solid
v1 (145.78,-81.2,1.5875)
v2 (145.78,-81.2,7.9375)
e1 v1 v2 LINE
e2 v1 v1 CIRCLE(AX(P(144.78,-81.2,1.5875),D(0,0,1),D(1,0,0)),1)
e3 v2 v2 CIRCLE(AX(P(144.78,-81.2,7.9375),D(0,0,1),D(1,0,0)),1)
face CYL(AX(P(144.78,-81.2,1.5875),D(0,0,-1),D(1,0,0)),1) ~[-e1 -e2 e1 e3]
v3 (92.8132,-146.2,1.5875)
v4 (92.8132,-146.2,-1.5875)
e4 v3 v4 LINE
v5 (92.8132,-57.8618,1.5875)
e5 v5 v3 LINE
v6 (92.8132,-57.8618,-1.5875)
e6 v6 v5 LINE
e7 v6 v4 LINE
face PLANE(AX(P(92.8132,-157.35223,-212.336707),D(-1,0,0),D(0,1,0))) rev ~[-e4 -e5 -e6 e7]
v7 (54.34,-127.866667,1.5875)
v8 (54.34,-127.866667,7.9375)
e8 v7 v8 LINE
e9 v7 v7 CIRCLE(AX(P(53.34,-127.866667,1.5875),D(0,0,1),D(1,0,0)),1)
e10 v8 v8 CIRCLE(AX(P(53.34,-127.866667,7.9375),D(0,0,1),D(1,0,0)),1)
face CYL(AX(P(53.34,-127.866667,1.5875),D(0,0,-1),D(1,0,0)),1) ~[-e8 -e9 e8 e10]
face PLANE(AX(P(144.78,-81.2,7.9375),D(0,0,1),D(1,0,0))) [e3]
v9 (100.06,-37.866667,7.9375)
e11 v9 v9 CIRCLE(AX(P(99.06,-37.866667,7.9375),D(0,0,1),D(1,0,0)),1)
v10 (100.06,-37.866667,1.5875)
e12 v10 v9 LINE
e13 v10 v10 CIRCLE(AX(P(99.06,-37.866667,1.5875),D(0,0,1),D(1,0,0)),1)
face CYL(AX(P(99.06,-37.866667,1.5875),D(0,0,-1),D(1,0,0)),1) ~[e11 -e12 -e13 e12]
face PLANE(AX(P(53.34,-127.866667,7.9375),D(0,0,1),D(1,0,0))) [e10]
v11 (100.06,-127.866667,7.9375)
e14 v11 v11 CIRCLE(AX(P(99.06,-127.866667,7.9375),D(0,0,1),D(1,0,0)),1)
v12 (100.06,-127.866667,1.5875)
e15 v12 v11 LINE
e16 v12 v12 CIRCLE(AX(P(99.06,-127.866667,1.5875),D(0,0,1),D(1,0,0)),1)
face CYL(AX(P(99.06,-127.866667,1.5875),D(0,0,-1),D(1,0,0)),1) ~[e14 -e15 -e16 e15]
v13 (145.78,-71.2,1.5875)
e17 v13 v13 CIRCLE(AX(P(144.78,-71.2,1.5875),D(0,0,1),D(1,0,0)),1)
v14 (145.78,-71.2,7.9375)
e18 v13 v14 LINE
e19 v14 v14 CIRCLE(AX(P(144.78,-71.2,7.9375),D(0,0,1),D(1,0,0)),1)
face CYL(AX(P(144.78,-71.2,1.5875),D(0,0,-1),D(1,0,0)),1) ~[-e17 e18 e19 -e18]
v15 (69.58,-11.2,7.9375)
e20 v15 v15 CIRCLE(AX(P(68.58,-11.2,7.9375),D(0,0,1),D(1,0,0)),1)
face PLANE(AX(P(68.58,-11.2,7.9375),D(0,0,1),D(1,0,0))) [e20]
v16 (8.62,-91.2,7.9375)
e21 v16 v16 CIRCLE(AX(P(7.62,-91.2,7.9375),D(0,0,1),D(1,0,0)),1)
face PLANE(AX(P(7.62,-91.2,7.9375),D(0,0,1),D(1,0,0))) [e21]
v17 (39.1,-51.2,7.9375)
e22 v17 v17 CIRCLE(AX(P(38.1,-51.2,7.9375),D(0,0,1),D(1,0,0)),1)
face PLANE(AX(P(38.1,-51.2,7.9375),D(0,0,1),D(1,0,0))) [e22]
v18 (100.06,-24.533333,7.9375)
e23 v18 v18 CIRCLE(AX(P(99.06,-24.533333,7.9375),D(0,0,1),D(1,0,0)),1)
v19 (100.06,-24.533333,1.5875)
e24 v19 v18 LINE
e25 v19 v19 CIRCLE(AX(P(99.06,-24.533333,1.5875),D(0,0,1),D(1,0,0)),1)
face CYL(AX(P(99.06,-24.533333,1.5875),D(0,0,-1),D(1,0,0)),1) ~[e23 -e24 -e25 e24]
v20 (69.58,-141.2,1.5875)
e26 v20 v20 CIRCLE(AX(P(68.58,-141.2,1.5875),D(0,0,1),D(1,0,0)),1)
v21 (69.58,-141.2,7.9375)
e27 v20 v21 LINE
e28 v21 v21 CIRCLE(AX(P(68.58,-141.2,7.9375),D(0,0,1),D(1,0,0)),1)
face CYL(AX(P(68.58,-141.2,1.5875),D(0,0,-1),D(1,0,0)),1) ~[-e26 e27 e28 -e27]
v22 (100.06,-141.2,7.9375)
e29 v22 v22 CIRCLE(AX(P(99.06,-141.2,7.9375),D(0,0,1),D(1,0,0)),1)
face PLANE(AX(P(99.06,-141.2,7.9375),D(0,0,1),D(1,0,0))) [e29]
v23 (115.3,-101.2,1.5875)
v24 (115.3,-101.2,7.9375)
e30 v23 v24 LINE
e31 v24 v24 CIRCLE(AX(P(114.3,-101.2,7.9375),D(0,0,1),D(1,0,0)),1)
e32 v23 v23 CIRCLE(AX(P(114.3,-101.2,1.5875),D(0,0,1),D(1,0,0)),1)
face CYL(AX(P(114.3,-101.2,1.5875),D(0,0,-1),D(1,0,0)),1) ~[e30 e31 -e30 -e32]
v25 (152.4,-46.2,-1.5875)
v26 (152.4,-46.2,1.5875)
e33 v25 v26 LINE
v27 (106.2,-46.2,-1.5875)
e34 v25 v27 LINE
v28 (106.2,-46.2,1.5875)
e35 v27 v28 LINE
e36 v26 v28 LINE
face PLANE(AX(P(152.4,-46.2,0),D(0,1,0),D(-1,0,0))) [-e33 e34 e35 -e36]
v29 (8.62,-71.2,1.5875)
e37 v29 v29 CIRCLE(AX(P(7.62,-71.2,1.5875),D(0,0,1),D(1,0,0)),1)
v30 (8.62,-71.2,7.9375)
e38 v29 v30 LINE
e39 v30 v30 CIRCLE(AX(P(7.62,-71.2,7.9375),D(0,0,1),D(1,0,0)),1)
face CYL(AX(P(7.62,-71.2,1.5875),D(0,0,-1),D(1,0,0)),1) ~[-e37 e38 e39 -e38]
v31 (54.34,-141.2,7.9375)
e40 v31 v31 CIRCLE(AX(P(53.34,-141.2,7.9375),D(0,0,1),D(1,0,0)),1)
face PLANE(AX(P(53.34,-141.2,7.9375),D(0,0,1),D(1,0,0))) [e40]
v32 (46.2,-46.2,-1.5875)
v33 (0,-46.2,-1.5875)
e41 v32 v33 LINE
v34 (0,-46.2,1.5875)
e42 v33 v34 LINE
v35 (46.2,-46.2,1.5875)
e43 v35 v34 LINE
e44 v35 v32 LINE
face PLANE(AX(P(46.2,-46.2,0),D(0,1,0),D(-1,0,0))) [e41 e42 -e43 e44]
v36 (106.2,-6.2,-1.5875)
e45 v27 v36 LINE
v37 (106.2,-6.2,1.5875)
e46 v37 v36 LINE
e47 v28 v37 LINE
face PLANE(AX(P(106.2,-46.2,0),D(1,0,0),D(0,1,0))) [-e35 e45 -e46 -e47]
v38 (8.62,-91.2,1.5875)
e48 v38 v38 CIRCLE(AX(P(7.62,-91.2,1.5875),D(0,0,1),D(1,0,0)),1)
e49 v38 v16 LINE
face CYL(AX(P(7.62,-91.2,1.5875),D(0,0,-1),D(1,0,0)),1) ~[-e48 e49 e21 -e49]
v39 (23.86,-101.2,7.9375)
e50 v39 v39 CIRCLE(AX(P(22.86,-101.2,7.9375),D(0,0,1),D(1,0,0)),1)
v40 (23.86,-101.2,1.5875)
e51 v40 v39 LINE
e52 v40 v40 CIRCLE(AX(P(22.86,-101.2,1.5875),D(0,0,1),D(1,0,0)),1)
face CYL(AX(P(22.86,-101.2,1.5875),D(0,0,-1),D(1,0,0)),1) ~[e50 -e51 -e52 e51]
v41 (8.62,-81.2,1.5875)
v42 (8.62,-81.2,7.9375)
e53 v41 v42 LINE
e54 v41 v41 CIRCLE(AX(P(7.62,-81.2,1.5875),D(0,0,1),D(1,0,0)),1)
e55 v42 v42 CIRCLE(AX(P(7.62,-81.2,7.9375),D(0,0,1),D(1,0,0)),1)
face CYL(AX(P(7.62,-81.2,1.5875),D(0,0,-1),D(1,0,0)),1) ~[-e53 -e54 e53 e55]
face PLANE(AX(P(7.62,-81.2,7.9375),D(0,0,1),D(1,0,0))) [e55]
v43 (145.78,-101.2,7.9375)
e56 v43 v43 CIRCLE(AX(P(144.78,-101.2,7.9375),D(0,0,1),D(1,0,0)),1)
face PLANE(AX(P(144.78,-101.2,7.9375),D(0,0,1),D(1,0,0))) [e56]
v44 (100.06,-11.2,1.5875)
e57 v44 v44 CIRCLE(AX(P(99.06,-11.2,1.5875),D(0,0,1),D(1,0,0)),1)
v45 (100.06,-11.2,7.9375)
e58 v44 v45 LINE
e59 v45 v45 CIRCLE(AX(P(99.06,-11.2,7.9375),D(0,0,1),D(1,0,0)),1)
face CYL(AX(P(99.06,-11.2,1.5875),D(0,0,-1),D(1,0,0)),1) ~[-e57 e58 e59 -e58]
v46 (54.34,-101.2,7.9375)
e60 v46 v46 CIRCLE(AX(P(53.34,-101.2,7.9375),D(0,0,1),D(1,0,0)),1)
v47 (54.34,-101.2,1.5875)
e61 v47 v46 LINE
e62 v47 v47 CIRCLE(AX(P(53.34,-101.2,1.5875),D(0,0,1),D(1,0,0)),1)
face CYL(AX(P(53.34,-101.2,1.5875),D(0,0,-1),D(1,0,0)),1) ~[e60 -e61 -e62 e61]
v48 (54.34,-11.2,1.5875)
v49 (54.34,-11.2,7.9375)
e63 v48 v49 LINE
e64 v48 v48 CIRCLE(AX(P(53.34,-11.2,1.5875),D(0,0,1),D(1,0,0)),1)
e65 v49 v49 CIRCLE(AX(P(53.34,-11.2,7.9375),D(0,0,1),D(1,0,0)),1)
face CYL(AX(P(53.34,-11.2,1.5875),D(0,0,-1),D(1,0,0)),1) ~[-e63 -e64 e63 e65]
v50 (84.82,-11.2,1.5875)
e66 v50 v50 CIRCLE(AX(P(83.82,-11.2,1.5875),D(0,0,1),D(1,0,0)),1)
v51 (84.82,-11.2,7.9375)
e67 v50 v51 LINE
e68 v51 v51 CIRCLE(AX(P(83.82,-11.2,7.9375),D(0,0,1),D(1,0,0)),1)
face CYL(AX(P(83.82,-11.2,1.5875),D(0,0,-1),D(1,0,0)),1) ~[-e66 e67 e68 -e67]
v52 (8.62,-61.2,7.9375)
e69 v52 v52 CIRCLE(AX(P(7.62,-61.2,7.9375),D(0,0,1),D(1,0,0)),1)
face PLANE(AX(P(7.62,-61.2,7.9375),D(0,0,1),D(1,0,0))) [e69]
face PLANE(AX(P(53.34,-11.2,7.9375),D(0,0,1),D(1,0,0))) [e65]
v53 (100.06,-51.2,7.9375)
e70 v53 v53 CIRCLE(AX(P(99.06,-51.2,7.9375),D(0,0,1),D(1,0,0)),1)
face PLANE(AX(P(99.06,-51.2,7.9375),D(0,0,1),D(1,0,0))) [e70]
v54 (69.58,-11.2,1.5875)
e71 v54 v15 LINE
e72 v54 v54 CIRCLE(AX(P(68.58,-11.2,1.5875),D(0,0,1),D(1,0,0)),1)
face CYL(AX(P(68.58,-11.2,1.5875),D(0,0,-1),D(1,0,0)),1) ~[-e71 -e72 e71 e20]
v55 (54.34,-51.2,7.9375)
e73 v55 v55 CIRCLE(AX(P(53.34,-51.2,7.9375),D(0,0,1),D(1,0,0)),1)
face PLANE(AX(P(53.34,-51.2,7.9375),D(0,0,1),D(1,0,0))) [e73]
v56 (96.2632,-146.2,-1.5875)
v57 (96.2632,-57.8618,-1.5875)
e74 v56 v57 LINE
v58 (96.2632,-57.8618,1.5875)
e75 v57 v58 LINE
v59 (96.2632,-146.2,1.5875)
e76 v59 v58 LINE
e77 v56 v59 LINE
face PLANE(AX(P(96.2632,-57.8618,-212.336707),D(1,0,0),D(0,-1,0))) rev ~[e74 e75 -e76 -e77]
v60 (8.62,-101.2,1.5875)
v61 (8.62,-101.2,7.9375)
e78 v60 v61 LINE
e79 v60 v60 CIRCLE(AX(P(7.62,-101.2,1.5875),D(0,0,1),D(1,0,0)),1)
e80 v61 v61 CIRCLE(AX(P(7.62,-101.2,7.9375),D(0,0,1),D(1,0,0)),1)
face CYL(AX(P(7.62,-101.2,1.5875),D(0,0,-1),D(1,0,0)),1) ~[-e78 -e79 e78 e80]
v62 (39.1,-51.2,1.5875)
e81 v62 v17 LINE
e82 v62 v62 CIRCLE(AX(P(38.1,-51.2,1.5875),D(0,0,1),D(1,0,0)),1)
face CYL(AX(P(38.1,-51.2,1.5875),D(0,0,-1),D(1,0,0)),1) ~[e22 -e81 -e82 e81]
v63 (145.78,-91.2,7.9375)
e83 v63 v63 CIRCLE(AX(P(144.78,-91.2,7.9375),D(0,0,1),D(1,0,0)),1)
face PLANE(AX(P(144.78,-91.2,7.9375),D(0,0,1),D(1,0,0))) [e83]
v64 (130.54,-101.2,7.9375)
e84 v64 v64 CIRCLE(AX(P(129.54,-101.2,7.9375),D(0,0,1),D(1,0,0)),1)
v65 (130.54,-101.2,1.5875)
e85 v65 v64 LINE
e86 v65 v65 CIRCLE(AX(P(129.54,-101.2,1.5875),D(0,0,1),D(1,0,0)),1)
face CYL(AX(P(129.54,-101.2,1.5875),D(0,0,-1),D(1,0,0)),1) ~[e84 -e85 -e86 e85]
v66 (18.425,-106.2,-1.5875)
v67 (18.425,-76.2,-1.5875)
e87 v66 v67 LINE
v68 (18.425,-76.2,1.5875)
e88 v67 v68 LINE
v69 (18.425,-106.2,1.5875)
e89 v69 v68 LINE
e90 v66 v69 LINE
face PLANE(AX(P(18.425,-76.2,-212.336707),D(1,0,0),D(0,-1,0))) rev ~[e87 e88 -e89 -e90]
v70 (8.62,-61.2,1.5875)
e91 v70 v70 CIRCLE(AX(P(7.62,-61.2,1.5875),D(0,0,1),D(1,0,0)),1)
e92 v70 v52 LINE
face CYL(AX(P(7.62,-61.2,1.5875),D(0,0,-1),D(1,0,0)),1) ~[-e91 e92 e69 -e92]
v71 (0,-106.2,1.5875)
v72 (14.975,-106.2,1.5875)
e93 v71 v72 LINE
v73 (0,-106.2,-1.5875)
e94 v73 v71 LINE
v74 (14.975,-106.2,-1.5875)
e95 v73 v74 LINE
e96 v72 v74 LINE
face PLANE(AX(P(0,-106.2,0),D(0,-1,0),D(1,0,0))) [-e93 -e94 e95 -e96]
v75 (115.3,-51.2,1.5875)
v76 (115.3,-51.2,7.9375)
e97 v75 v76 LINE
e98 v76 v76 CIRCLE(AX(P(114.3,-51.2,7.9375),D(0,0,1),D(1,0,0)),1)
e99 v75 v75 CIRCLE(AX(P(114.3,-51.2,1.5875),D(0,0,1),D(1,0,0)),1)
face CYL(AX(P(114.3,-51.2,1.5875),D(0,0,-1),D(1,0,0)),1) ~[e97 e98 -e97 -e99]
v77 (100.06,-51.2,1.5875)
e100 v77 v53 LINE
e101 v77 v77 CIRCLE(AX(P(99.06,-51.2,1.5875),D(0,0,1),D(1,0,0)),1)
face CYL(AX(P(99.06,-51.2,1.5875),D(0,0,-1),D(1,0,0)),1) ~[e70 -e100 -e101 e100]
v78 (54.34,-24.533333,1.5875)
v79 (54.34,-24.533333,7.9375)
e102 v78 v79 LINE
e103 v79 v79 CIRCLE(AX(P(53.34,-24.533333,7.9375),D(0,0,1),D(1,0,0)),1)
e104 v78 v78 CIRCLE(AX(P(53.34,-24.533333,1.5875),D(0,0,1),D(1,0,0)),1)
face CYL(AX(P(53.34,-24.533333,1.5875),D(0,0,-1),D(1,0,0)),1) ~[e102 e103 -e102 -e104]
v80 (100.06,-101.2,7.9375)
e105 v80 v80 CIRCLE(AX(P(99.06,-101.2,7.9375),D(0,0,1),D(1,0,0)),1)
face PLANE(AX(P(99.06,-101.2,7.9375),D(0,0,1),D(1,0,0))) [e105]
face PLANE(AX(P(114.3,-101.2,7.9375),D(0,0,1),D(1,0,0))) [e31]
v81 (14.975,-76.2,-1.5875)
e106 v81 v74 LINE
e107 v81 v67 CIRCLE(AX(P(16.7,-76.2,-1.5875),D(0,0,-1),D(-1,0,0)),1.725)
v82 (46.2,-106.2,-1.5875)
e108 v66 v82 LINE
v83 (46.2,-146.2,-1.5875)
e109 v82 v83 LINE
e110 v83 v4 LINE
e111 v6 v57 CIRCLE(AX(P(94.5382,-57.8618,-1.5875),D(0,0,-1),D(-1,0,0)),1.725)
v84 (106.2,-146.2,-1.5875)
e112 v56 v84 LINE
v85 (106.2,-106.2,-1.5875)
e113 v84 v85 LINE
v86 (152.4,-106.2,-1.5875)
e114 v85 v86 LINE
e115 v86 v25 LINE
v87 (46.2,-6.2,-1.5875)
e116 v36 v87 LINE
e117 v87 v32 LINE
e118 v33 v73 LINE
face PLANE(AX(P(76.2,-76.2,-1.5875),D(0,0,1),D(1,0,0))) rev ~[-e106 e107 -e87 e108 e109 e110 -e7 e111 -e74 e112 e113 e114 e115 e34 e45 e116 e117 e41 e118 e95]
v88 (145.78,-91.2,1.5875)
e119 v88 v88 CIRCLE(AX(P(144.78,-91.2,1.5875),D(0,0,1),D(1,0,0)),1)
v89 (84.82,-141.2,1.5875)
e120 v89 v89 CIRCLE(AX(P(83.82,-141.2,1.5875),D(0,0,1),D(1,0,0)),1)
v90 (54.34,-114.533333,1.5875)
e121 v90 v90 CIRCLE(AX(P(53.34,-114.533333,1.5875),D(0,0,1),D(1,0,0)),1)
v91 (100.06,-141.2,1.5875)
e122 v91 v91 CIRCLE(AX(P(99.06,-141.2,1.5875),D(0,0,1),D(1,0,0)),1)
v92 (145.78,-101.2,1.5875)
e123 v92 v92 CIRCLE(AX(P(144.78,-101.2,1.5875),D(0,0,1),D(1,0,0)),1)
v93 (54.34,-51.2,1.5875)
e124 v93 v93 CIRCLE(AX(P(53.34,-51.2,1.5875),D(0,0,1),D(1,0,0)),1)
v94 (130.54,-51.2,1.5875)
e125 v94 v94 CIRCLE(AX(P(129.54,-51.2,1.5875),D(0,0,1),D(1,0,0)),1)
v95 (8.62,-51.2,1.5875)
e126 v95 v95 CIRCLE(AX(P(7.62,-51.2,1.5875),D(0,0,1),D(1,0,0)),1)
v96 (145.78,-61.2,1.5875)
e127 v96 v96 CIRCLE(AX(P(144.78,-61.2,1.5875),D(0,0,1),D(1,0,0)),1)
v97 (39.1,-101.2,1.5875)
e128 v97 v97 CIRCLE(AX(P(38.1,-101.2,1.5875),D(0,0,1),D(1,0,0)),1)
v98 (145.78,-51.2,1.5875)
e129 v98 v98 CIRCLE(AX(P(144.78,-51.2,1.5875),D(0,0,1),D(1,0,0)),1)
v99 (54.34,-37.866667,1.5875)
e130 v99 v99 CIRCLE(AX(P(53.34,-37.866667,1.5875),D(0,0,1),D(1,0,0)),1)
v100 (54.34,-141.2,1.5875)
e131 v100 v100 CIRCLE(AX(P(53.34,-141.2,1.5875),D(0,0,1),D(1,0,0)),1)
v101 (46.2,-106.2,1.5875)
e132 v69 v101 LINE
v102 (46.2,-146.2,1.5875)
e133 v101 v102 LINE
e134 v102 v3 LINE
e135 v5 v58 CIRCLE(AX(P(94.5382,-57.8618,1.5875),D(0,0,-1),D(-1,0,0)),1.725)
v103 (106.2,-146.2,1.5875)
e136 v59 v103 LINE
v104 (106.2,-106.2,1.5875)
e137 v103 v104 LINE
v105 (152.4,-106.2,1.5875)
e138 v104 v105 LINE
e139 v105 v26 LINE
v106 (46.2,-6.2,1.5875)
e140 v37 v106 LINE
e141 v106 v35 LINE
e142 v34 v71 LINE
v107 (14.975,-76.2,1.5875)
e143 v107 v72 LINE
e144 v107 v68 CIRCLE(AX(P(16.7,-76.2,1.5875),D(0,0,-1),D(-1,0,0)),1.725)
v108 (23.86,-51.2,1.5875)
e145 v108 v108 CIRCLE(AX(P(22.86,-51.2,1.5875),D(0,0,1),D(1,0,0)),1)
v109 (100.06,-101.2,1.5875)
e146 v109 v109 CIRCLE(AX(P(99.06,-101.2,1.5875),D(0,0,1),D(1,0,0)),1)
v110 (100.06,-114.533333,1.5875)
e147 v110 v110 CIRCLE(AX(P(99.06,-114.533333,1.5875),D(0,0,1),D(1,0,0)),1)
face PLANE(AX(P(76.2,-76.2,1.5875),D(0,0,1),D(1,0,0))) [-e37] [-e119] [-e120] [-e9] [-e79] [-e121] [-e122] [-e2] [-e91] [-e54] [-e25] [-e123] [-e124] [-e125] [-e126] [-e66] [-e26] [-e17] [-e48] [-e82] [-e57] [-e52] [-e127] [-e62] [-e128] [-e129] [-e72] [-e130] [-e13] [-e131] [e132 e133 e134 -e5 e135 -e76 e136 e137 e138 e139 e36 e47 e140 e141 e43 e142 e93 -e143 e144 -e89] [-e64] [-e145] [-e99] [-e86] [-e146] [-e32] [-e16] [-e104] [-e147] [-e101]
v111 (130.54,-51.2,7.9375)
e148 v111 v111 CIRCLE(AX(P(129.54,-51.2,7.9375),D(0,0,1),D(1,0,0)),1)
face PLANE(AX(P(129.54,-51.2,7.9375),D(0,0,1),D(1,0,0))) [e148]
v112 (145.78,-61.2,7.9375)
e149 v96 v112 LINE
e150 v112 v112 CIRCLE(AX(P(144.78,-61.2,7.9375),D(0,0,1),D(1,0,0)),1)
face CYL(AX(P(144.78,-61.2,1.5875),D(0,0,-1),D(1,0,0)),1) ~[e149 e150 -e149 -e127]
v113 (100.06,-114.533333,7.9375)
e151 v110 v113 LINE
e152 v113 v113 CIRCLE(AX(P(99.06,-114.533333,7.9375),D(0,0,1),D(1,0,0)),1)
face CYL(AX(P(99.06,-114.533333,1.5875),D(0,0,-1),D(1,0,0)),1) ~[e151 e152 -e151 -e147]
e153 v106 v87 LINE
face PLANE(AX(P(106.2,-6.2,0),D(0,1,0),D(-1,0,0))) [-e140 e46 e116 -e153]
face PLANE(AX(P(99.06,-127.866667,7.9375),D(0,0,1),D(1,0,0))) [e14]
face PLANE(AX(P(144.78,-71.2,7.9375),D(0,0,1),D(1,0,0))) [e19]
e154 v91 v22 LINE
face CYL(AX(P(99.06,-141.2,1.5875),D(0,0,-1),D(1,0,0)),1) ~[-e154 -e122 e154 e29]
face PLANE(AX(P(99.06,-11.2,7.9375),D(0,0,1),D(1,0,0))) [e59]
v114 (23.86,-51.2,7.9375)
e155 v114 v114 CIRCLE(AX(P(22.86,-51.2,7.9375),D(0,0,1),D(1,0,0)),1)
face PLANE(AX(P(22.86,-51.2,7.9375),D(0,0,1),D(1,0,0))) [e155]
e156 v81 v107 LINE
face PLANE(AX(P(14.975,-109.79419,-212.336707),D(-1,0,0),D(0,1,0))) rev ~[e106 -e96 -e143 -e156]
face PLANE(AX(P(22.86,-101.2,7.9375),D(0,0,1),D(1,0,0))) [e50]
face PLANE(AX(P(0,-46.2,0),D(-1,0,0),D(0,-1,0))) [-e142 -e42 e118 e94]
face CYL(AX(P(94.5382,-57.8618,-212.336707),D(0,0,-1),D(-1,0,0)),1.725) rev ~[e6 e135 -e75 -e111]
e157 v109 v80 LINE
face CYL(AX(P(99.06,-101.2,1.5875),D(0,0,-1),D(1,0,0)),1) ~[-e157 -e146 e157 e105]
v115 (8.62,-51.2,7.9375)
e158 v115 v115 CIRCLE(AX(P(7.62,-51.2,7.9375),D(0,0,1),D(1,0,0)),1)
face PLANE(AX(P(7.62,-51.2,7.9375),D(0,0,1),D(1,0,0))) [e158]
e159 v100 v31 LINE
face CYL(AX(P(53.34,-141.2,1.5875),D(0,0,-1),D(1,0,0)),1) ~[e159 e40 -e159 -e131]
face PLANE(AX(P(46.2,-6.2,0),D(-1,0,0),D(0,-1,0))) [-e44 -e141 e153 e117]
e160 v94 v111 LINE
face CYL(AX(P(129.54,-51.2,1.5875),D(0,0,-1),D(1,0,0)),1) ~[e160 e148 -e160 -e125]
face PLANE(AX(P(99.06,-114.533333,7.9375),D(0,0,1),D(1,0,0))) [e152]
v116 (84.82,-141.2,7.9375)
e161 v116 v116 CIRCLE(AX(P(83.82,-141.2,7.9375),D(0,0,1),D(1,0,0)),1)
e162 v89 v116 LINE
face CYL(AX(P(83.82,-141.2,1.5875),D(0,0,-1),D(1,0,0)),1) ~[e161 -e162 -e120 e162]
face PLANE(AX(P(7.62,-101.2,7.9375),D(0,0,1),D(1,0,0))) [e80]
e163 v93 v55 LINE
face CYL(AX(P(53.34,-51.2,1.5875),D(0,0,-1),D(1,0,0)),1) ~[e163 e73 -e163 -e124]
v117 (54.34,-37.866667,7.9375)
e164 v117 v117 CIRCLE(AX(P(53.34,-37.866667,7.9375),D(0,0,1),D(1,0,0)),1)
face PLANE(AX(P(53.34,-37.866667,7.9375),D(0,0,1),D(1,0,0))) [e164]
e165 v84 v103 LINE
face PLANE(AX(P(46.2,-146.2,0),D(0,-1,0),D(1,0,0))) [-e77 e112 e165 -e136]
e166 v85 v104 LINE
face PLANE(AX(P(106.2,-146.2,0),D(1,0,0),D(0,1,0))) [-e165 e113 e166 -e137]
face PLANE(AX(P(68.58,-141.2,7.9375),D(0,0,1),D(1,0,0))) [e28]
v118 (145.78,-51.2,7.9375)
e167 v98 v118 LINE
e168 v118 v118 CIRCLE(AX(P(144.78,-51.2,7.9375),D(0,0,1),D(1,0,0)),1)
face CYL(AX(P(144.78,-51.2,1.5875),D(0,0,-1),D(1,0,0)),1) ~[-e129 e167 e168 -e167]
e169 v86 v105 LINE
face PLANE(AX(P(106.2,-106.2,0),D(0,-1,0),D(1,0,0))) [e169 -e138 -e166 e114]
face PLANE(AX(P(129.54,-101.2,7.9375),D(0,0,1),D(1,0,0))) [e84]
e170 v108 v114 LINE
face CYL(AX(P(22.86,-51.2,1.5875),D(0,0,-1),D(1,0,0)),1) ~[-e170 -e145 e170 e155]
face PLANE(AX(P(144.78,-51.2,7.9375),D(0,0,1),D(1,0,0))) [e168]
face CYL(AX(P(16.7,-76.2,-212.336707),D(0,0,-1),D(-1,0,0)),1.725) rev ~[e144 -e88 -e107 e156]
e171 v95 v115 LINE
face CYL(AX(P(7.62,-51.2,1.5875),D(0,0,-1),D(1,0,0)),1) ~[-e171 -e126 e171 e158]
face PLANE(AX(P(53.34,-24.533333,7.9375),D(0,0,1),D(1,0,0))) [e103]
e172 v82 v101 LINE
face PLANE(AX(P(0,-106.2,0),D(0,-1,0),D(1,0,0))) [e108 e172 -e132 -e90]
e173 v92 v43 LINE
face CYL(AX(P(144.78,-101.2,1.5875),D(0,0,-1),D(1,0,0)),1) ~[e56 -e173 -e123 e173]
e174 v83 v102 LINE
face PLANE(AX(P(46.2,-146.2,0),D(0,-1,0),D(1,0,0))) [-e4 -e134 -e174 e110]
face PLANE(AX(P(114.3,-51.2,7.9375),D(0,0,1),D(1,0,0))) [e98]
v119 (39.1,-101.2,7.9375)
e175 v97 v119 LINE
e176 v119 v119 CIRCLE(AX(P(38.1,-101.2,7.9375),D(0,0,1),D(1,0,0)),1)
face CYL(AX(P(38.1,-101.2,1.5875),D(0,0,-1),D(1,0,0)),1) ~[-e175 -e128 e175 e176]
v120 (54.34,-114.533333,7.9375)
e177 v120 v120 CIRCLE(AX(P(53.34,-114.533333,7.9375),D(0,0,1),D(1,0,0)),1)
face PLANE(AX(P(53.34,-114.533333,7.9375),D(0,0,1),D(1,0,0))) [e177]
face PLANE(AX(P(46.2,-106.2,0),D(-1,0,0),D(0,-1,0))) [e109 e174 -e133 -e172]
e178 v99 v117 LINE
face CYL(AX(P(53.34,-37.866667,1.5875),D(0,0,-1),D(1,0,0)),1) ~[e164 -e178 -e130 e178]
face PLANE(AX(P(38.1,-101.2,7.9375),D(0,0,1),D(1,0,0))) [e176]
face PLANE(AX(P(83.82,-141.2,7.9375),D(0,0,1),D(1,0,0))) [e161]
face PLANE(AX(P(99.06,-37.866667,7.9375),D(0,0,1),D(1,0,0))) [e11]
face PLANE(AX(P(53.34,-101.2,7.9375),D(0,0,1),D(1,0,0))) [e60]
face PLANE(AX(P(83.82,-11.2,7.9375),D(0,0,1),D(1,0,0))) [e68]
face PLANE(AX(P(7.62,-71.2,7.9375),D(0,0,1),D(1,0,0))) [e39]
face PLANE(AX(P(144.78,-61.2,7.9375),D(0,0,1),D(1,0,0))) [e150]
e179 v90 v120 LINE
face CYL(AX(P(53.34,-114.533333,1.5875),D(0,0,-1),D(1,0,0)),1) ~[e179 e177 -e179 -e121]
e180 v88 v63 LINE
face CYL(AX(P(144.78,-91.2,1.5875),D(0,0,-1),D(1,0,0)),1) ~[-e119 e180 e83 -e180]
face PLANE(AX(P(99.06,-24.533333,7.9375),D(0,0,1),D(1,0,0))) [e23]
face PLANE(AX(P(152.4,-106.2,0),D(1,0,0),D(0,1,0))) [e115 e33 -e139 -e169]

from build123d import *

# Parameters (mm, degrees)
BOSS_EXTRUDE1_DEPTH     = 1.5875
BOSS_EXTRUDE2_START     = 1.5875
SKETCH4_R               = 1
BOSS_EXTRUDE2_DEPTH     = 6.35
CUT_EXTRUDE1_DEPTH      = 212.336707427
CUT_EXTRUDE1_DEPTH_BACK = 212.336707427


with BuildPart() as part:
    # Sketch2 → Boss-Extrude1 (new, symmetric)
    with BuildSketch(Plane.XY):
        Polygon((46.2, -46.2), (0, -46.2), (0, -106.2), (46.2, -106.2), (46.2, -146.2), (106.2, -146.2), (106.2, -106.2), (152.4, -106.2), (152.4, -46.2), (106.2, -46.2), (106.2, -6.2), (46.2, -6.2), align=None)
    extrude(amount=BOSS_EXTRUDE1_DEPTH, both=True)

    # Sketch4 → Boss-Extrude2 (add)
    with BuildSketch(Plane.XY.offset(BOSS_EXTRUDE2_START)):
        with Locations((53.34, -11.2)):
            Circle(SKETCH4_R)
        with Locations((68.58, -11.2)):
            Circle(SKETCH4_R)
        with Locations((99.06, -11.2)):
            Circle(SKETCH4_R)
        with Locations((83.82, -11.2)):
            Circle(SKETCH4_R)
        with Locations((99.06, -24.533333333)):
            Circle(SKETCH4_R)
        with Locations((99.06, -37.866666667)):
            Circle(SKETCH4_R)
        with Locations((114.3, -51.2)):
            Circle(SKETCH4_R)
        with Locations((99.06, -51.2)):
            Circle(SKETCH4_R)
        with Locations((144.78, -51.2)):
            Circle(SKETCH4_R)
        with Locations((129.54, -51.2)):
            Circle(SKETCH4_R)
        with Locations((144.78, -61.2)):
            Circle(SKETCH4_R)
        with Locations((144.78, -71.2)):
            Circle(SKETCH4_R)
        with Locations((144.78, -81.2)):
            Circle(SKETCH4_R)
        with Locations((144.78, -91.2)):
            Circle(SKETCH4_R)
        with Locations((144.78, -101.2)):
            Circle(SKETCH4_R)
        with Locations((114.3, -101.2)):
            Circle(SKETCH4_R)
        with Locations((129.54, -101.2)):
            Circle(SKETCH4_R)
        with Locations((99.06, -101.2)):
            Circle(SKETCH4_R)
        with Locations((99.06, -114.533333333)):
            Circle(SKETCH4_R)
        with Locations((99.06, -127.866666667)):
            Circle(SKETCH4_R)
        with Locations((99.06, -141.2)):
            Circle(SKETCH4_R)
        with Locations((83.82, -141.2)):
            Circle(SKETCH4_R)
        with Locations((68.58, -141.2)):
            Circle(SKETCH4_R)
        with Locations((53.34, -141.2)):
            Circle(SKETCH4_R)
        with Locations((53.34, -127.866666667)):
            Circle(SKETCH4_R)
        with Locations((53.34, -114.533333333)):
            Circle(SKETCH4_R)
        with Locations((53.34, -101.2)):
            Circle(SKETCH4_R)
        with Locations((38.1, -101.2)):
            Circle(SKETCH4_R)
        with Locations((7.62, -101.2)):
            Circle(SKETCH4_R)
        with Locations((22.86, -101.2)):
            Circle(SKETCH4_R)
        with Locations((7.62, -91.2)):
            Circle(SKETCH4_R)
        with Locations((7.62, -81.2)):
            Circle(SKETCH4_R)
        with Locations((7.62, -71.2)):
            Circle(SKETCH4_R)
        with Locations((7.62, -51.2)):
            Circle(SKETCH4_R)
        with Locations((7.62, -61.2)):
            Circle(SKETCH4_R)
        with Locations((22.86, -51.2)):
            Circle(SKETCH4_R)
        with Locations((53.34, -51.2)):
            Circle(SKETCH4_R)
        with Locations((38.1, -51.2)):
            Circle(SKETCH4_R)
        with Locations((53.34, -37.866666667)):
            Circle(SKETCH4_R)
        with Locations((53.34, -24.533333333)):
            Circle(SKETCH4_R)
    extrude(amount=BOSS_EXTRUDE2_DEPTH)

    # Sketch3 → Cut-Extrude1 (cut, two sides: drawn at the far end of the back side and taken through both)
    with BuildSketch(Plane.XY.offset(-CUT_EXTRUDE1_DEPTH_BACK)):
        with BuildLine():
            Line((18.425, -76.2), (18.425, -109.794189798))
            ThreePointArc((18.425, -109.794189798), (16.7, -111.519189798), (14.975, -109.794189798))
            Line((14.975, -109.794189798), (14.975, -76.2))
            ThreePointArc((14.975, -76.2), (16.7, -74.475), (18.425, -76.2))
        make_face()
        with BuildLine():
            Line((96.2632, -57.8618), (96.2632, -157.352229572))
            ThreePointArc((96.2632, -157.352229572), (94.5382, -159.077229572), (92.8132, -157.352229572))
            Line((92.8132, -157.352229572), (92.8132, -57.8618))
            ThreePointArc((92.8132, -57.8618), (94.5382, -56.1368), (96.2632, -57.8618))
        make_face()
    extrude(amount=CUT_EXTRUDE1_DEPTH + CUT_EXTRUDE1_DEPTH_BACK, mode=Mode.SUBTRACT)


solid = part.part
